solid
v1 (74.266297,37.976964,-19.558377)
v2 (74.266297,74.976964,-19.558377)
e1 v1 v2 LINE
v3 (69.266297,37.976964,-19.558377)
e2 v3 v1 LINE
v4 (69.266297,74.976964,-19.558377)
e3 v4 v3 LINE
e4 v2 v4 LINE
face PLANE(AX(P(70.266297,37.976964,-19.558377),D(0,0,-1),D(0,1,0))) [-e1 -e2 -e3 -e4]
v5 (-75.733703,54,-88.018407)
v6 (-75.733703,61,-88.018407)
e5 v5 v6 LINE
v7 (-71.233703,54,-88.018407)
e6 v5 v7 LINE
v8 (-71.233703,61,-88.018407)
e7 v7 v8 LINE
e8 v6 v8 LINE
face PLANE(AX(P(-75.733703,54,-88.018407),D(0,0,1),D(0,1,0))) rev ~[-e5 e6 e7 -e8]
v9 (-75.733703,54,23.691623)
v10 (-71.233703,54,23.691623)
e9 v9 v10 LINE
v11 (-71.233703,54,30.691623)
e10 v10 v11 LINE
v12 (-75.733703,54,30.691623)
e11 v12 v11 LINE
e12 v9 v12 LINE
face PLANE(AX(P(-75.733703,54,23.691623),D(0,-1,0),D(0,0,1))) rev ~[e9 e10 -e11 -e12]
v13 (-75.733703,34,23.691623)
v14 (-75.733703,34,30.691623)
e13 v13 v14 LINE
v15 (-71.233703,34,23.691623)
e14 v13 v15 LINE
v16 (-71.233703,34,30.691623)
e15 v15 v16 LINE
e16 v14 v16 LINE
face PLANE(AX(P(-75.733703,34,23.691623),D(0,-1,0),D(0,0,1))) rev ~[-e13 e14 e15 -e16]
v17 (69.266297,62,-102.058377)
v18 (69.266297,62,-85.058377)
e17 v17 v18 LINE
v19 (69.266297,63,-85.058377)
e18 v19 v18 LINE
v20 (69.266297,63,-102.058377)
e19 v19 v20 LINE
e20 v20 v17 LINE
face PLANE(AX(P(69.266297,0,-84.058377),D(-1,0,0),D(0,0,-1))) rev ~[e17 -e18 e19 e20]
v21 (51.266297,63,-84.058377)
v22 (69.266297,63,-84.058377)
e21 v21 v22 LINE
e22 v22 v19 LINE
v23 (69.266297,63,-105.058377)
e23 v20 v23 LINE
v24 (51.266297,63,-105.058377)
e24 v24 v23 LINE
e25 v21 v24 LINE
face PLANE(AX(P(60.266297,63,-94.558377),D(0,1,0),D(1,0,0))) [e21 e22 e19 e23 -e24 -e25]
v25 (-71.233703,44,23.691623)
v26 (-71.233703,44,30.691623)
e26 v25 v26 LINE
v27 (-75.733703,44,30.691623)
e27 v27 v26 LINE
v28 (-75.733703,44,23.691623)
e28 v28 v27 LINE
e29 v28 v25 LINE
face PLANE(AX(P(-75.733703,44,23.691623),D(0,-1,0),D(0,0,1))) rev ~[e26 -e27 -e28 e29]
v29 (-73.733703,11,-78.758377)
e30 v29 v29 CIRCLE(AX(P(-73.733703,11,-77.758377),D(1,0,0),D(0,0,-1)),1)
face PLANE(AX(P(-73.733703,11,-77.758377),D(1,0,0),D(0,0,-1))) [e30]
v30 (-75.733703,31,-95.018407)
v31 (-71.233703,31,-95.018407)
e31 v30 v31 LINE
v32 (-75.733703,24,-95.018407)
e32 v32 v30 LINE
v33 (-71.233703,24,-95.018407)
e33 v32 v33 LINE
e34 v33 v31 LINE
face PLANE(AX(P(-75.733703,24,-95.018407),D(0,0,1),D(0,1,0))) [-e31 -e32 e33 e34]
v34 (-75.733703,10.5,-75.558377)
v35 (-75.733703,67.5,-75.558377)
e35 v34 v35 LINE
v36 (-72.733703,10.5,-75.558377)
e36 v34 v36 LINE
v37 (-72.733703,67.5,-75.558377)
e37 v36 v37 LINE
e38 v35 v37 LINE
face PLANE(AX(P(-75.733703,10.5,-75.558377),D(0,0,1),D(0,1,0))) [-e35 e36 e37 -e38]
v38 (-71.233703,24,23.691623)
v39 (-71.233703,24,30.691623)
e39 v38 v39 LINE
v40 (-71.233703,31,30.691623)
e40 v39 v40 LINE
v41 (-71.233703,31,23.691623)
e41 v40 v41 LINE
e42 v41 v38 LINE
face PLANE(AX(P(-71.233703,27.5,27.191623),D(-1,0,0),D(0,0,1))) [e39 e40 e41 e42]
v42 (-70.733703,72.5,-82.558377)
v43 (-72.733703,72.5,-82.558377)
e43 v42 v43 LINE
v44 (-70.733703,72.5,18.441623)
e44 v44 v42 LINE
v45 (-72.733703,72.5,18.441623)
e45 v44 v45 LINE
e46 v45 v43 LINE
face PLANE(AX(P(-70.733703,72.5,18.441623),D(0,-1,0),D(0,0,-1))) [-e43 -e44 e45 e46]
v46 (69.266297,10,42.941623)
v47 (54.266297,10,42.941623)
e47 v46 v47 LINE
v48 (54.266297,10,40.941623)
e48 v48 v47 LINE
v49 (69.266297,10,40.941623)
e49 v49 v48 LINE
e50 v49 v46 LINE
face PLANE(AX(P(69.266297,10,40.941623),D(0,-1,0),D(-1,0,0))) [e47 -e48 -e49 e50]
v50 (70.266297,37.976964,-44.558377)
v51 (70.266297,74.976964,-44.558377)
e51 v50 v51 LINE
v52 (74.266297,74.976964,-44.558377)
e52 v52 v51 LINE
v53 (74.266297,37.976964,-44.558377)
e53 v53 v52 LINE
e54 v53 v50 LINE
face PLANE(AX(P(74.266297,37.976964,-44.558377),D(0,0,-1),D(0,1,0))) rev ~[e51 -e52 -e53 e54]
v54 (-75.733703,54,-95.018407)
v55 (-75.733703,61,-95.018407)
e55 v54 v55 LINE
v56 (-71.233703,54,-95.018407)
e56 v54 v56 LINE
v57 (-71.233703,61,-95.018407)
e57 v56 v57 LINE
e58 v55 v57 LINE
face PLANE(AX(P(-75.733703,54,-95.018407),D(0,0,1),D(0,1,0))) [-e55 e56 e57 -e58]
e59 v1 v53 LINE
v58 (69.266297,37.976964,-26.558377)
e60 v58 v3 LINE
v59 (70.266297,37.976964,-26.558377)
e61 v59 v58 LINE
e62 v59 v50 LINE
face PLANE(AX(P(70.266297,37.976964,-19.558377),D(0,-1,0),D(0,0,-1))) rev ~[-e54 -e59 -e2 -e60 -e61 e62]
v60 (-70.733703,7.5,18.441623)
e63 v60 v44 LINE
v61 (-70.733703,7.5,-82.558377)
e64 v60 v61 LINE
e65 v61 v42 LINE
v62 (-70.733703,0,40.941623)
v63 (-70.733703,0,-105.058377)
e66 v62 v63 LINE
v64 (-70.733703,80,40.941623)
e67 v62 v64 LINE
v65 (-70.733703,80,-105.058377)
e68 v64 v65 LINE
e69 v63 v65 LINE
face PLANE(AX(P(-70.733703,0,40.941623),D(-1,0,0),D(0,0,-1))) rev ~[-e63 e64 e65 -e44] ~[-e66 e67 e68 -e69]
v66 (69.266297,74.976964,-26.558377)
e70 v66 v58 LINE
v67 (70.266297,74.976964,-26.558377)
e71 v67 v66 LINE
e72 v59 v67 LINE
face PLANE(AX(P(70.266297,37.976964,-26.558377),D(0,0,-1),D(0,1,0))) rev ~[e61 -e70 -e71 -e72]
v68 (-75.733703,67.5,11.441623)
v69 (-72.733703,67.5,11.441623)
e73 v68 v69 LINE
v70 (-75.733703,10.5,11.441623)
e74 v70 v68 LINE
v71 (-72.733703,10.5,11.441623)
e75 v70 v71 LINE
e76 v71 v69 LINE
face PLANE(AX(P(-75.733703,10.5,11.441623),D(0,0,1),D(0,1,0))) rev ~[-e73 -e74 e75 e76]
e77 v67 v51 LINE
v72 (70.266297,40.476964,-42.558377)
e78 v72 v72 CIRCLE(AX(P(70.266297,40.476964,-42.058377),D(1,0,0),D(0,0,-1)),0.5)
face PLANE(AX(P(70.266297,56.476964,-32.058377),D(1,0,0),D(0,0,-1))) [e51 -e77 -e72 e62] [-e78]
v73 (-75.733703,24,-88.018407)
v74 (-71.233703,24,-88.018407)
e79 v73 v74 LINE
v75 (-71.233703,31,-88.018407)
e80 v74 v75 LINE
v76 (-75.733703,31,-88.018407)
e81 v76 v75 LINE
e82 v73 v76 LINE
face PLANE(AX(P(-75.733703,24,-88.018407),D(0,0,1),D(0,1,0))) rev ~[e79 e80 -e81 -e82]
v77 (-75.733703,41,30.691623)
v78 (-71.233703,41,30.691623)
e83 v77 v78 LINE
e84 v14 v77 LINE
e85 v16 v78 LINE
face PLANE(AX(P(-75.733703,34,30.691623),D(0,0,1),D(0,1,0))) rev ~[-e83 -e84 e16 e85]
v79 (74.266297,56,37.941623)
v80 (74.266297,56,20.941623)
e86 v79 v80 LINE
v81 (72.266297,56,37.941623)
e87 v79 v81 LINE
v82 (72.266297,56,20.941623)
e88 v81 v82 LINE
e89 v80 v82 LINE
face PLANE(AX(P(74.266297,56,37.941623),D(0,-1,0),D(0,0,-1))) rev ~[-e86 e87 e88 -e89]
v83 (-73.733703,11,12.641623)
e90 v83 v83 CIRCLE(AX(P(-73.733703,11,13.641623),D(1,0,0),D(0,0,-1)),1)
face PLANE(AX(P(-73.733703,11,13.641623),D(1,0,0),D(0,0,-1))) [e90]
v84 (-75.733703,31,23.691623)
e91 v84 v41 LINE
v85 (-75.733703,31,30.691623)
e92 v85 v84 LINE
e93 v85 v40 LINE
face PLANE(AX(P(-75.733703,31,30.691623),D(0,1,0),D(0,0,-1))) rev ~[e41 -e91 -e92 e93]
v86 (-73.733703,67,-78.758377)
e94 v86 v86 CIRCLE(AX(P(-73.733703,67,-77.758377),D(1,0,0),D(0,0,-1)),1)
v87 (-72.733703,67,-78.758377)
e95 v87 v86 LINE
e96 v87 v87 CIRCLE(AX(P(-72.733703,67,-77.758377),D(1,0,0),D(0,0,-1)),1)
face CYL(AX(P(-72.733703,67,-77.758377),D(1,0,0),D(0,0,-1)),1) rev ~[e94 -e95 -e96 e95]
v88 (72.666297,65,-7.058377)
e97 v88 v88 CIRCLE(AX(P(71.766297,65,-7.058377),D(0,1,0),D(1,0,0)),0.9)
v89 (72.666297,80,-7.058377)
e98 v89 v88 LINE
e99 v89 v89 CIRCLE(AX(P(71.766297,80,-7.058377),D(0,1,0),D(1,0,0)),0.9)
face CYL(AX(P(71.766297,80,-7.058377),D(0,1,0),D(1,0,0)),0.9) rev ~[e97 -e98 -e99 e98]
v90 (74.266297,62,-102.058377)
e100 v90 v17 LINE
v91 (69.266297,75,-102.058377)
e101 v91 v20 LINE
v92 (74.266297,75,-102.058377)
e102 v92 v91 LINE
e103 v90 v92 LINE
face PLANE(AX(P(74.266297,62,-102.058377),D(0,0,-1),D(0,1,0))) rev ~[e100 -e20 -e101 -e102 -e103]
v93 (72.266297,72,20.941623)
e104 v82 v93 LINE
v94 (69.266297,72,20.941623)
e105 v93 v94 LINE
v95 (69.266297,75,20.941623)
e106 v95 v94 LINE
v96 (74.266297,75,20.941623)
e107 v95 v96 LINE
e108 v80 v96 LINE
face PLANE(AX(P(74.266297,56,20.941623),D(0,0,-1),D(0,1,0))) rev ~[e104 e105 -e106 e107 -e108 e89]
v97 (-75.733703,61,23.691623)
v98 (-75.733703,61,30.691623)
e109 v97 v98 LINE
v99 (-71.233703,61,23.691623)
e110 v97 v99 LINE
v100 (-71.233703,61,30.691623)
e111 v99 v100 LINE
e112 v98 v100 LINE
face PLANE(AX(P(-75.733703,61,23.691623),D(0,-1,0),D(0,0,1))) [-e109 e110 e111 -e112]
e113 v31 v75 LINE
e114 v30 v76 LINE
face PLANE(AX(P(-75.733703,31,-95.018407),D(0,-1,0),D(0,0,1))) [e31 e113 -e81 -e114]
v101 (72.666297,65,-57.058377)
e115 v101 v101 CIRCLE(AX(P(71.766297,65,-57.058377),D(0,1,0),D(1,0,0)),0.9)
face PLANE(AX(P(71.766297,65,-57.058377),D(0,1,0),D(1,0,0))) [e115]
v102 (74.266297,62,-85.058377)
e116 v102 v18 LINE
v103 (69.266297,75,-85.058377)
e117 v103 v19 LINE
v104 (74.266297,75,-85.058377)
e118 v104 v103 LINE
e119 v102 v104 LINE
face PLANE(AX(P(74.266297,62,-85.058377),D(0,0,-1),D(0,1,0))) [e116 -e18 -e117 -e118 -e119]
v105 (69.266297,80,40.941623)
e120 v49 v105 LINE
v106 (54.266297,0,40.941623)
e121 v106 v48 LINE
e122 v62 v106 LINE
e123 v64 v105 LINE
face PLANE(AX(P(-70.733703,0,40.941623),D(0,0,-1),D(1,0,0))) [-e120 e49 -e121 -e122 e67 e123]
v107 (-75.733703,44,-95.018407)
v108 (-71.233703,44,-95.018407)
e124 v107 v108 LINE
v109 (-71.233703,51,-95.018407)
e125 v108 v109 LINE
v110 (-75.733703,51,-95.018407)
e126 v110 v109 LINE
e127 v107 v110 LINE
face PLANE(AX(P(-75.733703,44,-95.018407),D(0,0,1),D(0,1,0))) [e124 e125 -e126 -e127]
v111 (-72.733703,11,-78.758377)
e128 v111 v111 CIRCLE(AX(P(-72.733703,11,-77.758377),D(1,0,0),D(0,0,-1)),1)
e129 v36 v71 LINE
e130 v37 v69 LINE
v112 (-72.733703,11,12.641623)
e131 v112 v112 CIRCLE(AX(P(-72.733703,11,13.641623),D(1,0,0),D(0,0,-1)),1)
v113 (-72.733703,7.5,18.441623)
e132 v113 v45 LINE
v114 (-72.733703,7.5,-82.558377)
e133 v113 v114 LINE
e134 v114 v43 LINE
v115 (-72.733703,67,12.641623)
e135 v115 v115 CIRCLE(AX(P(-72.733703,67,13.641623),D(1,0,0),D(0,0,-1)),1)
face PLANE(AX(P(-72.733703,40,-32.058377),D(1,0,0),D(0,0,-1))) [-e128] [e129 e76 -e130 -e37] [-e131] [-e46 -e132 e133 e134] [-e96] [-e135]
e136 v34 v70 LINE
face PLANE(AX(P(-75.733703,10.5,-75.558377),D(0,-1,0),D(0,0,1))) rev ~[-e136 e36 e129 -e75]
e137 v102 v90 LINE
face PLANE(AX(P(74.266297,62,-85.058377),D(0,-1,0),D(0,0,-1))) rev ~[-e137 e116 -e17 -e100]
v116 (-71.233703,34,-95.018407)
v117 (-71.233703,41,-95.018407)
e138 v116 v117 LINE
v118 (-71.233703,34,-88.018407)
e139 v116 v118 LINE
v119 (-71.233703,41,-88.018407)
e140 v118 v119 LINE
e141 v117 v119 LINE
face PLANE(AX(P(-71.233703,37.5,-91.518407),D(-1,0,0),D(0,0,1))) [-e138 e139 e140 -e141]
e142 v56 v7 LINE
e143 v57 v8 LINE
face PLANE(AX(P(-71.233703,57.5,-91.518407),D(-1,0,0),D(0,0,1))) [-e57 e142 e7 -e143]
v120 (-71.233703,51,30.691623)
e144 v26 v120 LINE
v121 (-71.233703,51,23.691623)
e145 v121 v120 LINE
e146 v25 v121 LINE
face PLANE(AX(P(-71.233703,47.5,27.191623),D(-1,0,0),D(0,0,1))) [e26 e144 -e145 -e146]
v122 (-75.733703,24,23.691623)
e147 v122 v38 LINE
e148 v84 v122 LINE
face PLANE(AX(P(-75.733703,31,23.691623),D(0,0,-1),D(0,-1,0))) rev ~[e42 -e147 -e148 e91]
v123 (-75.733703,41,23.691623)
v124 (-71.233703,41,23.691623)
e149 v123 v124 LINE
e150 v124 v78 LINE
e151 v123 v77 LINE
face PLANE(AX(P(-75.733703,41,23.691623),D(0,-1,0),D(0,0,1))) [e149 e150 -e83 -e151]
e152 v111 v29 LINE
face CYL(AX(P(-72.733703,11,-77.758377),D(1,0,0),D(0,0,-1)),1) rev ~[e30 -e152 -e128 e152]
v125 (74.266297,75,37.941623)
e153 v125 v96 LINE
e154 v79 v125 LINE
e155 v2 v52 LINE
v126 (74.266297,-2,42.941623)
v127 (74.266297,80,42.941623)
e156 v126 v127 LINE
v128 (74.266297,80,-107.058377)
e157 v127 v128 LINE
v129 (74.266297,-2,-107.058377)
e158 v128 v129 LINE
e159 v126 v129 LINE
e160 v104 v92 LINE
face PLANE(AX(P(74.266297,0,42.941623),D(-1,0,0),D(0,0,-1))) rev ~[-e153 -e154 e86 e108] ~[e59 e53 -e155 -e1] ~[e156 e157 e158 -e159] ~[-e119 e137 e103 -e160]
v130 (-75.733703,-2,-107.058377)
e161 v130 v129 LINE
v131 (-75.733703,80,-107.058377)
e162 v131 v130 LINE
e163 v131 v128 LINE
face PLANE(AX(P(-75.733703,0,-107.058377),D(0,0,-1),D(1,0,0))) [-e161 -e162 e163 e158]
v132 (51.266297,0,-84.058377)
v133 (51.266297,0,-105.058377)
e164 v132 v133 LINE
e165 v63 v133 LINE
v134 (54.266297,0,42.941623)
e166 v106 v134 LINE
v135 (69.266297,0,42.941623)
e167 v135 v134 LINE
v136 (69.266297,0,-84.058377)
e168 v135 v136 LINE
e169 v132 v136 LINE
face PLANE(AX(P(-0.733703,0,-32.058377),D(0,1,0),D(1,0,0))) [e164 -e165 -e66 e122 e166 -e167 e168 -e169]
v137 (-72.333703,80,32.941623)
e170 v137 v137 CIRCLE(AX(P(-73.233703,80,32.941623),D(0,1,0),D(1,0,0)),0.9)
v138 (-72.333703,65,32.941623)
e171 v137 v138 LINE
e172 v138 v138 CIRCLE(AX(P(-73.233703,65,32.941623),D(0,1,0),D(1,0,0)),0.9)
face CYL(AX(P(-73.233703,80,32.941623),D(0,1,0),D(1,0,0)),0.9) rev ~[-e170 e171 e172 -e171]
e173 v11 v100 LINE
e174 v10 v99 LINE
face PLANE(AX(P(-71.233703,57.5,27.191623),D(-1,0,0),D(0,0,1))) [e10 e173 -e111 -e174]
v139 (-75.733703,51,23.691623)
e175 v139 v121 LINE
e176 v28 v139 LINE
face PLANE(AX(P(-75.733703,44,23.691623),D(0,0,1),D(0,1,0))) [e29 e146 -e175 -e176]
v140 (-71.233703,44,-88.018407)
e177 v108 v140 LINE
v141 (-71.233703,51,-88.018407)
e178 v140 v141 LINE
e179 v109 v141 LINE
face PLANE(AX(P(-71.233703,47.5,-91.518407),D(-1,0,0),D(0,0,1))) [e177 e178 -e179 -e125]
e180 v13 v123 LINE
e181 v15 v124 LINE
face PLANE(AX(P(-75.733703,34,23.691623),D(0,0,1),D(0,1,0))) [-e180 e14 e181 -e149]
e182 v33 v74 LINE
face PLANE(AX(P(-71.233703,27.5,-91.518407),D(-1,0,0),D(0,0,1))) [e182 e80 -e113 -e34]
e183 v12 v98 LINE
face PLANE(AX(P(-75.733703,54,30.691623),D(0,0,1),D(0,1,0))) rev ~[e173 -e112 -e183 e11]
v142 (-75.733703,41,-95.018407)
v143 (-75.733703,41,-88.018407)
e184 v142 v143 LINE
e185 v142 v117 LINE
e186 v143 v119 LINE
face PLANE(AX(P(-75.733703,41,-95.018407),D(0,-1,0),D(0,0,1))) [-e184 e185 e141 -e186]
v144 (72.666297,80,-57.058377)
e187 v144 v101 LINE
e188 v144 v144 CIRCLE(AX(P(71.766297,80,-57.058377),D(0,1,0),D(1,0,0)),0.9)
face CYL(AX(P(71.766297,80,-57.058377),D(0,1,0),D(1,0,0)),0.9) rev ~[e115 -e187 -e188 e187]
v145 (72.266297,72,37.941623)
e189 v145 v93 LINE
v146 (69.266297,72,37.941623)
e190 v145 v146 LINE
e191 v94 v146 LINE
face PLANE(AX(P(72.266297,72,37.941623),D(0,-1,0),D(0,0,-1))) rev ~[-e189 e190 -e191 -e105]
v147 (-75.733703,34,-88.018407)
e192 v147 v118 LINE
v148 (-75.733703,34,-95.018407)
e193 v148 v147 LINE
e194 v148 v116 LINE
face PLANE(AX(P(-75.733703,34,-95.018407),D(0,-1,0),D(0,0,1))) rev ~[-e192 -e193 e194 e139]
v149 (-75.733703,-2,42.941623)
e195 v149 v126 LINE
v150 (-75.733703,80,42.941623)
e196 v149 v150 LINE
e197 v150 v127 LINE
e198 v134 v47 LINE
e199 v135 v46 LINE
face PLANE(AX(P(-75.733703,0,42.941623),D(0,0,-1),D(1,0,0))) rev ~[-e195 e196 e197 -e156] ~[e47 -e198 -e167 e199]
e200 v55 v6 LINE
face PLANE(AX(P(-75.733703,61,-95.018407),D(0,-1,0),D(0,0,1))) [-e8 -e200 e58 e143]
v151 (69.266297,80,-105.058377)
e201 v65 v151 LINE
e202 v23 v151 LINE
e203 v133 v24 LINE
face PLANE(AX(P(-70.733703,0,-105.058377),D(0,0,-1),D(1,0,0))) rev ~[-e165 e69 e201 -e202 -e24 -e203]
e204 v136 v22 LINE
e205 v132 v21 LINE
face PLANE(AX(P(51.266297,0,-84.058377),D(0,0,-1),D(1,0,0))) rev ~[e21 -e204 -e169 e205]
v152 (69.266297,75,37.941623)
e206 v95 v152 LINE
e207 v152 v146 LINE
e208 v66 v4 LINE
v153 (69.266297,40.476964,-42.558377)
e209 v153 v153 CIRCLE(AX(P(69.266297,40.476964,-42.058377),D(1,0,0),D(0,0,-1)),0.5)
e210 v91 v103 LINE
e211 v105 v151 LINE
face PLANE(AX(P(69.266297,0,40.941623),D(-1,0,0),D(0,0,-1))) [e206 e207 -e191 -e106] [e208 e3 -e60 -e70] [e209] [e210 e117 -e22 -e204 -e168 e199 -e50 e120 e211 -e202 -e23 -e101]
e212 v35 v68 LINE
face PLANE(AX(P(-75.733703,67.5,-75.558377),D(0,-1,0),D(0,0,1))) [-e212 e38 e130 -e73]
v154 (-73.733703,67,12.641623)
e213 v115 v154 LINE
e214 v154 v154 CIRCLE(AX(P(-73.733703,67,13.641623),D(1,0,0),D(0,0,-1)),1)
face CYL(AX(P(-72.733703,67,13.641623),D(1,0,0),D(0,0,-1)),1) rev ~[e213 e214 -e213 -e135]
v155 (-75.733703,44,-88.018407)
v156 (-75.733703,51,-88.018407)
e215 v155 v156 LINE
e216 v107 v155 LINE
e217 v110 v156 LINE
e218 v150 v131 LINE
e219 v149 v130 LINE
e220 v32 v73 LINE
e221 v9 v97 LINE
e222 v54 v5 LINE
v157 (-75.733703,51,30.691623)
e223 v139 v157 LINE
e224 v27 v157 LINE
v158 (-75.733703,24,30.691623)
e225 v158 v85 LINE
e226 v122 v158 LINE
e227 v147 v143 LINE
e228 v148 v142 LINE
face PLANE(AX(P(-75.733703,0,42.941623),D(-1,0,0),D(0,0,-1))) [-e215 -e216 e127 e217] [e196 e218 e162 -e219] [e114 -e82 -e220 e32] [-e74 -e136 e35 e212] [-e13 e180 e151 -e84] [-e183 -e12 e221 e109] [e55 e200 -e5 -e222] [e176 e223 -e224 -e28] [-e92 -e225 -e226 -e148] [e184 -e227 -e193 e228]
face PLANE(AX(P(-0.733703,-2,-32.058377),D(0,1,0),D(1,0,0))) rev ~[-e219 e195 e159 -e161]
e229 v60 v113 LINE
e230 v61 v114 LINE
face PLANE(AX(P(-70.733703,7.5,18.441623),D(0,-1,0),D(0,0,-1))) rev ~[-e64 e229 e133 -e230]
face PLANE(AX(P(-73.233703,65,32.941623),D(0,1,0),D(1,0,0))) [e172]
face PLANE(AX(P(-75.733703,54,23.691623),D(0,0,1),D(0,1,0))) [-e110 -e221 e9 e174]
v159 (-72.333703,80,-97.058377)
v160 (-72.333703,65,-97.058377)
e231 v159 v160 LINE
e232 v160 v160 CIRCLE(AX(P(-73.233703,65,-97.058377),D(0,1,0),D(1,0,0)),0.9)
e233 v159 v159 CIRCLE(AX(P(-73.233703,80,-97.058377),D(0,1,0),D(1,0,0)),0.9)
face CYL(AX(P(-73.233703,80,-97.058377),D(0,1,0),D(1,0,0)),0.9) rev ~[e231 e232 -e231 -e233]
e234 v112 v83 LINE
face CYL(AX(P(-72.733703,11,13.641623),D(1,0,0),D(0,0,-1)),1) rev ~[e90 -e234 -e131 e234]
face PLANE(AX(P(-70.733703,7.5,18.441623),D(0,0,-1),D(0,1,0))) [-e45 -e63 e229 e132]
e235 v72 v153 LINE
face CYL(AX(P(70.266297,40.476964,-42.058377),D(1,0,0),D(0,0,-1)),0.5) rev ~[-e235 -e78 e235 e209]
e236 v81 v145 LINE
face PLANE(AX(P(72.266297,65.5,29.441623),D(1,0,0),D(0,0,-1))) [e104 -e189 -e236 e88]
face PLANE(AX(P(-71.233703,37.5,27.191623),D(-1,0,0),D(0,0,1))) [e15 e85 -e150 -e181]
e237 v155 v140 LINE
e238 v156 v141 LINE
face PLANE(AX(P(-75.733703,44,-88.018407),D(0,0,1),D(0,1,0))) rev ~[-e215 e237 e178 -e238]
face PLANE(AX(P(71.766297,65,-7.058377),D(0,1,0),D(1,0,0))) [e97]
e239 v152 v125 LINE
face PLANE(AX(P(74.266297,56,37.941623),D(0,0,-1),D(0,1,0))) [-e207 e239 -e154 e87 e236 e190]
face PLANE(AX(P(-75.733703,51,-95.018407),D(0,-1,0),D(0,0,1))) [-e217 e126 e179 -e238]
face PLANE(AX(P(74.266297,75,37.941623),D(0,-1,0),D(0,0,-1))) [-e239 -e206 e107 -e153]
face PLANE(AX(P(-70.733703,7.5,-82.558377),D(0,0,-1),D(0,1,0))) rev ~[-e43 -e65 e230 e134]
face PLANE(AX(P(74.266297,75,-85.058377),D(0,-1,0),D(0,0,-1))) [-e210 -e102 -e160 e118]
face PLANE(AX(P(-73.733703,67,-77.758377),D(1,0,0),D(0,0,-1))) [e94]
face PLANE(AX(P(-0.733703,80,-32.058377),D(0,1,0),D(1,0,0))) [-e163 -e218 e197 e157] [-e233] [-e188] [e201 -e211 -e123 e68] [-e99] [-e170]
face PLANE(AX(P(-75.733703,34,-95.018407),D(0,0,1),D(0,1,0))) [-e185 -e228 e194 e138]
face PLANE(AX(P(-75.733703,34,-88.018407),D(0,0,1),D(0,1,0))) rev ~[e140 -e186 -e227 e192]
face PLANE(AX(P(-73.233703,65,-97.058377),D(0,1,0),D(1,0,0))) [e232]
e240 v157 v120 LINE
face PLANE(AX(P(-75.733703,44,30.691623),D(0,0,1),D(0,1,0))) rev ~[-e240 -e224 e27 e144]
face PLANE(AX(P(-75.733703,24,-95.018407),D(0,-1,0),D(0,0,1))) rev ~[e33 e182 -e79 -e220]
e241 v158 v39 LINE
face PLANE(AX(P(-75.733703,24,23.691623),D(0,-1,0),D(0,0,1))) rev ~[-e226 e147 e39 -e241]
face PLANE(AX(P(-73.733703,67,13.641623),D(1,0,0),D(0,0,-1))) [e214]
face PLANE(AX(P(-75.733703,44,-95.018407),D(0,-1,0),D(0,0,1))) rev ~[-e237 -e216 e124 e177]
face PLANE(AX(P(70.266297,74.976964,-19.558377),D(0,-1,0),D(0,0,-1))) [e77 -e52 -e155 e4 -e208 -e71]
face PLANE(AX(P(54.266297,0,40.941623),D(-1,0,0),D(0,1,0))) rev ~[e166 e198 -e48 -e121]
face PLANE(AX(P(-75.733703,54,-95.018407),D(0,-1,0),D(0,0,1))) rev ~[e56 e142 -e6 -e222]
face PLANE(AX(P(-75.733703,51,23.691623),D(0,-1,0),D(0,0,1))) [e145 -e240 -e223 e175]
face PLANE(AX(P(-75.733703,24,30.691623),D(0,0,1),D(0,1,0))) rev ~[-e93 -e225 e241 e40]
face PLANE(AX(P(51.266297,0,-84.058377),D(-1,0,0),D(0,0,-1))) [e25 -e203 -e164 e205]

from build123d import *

# Parameters (mm, degrees)
SKIZZE1_W                        = 150
SKIZZE1_H                        = 150
AUFSATZ_LINEAR_AUSTRAGEN1_DEPTH  = 2
SKIZZE1_3_W                      = 150
SKIZZE1_3_H                      = 150
SKIZZE1_3_W_2                    = 140
SKIZZE1_3_H_2                    = 146
AUFSATZ_LINEAR_AUSTRAGEN2_DEPTH  = 80
SKIZZE2_W                        = 87
SKIZZE2_H                        = 57
SCHNITT_LINEAR_AUSTRAGEN1_DEPTH  = 10
SKIZZE5_W                        = 17
SKIZZE5_H                        = 13
SCHNITT_LINEAR_AUSTRAGEN3_DEPTH  = 10
SKIZZE6_W                        = 17
SKIZZE6_H                        = 19
SCHNITT_LINEAR_AUSTRAGEN4_DEPTH  = 2
SKIZZE7_W                        = 17
SKIZZE7_H                        = 3
SCHNITT_LINEAR_AUSTRAGEN5_DEPTH  = 10
SKIZZE9_W                        = 18
SKIZZE9_H                        = 21
AUFSATZ_LINEAR_AUSTRAGEN3_DEPTH  = 63
SKIZZE10_W                       = 15
SKIZZE10_H                       = 10
SCHNITT_LINEAR_AUSTRAGEN6_DEPTH  = 63
SKIZZE11_W                       = 101
SKIZZE11_H                       = 65
SCHNITT_LINEAR_AUSTRAGEN7_DEPTH  = 2
SKIZZE17_R                       = 1
SCHNITT_LINEAR_AUSTRAGEN10_DEPTH = 1
SKIZZE18_W                       = 7
SKIZZE18_H                       = 7
SCHNITT_LINEAR_AUSTRAGEN11_DEPTH = 4.5
SKIZZE19_R                       = 0.9
SCHNITT_LINEAR_AUSTRAGEN12_DEPTH = 15
SKIZZE20_W                       = 25
SKIZZE20_H                       = 37
SCHNITT_LINEAR_AUSTRAGEN13_DEPTH = 4
SKIZZE21_W                       = 7
SKIZZE21_H                       = 37
SCHNITT_LINEAR_AUSTRAGEN14_DEPTH = 3
SKIZZE24_R                       = 0.5
SCHNITT_LINEAR_AUSTRAGEN15_DEPTH = 6


with BuildPart() as part:
    # Skizze1 → Aufsatz-Linear austragen1 (new body)
    with BuildSketch(Plane(origin=(0, 0, 0), x_dir=(1, 0, 0), z_dir=(0, 1, 0))):
        with Locations((-0.733702775, 32.058376742)):
            Rectangle(SKIZZE1_W, SKIZZE1_H)
    extrude(amount=-AUFSATZ_LINEAR_AUSTRAGEN1_DEPTH)

    # Skizze1<3> → Aufsatz-Linear austragen2 (add)
    with BuildSketch(Plane(origin=(0, 0, 0), x_dir=(1, 0, 0), z_dir=(0, 1, 0))):
        with Locations((-0.733702775, 32.058376742)):
            Rectangle(SKIZZE1_3_W, SKIZZE1_3_H)
        with Locations((-0.733702775, 32.058376742)):
            Rectangle(SKIZZE1_3_W_2, SKIZZE1_3_H_2, mode=Mode.SUBTRACT)
    extrude(amount=AUFSATZ_LINEAR_AUSTRAGEN2_DEPTH)

    # Skizze2 → Schnitt-Linear austragen1 (cut)
    with BuildSketch(Plane.ZY.offset(75.733702775)):
        with Locations((-32.058376742, 39)):
            Rectangle(SKIZZE2_W, SKIZZE2_H)
    extrude(amount=-SCHNITT_LINEAR_AUSTRAGEN1_DEPTH, mode=Mode.SUBTRACT)

    # Skizze5 → Schnitt-Linear austragen3 (cut)
    with BuildSketch(Plane(origin=(74.266297225, 0, 0), x_dir=(0, 0, -1), z_dir=(1, 0, 0))):
        with Locations((93.558376742, 68.5)):
            Rectangle(SKIZZE5_W, SKIZZE5_H)
    extrude(amount=-SCHNITT_LINEAR_AUSTRAGEN3_DEPTH, mode=Mode.SUBTRACT)

    # Skizze6 → Schnitt-Linear austragen4 (cut)
    with BuildSketch(Plane(origin=(74.266297225, 0, 0), x_dir=(0, 0, -1), z_dir=(1, 0, 0))):
        with Locations((-29.441623258, 65.5)):
            Rectangle(SKIZZE6_W, SKIZZE6_H)
    extrude(amount=-SCHNITT_LINEAR_AUSTRAGEN4_DEPTH, mode=Mode.SUBTRACT)

    # Skizze7 → Schnitt-Linear austragen5 (cut)
    with BuildSketch(Plane(origin=(72.266297225, 0, 0), x_dir=(0, 0, -1), z_dir=(1, 0, 0))):
        with Locations((-29.441623258, 73.5)):
            Rectangle(SKIZZE7_W, SKIZZE7_H)
    extrude(amount=-SCHNITT_LINEAR_AUSTRAGEN5_DEPTH, mode=Mode.SUBTRACT)

    # Skizze9 → Aufsatz-Linear austragen3 (add)
    with BuildSketch(Plane(origin=(0, 0, 0), x_dir=(1, 0, 0), z_dir=(0, 1, 0))):
        with Locations((60.266297225, 94.558376742)):
            Rectangle(SKIZZE9_W, SKIZZE9_H)
    extrude(amount=AUFSATZ_LINEAR_AUSTRAGEN3_DEPTH)

    # Skizze10 → Schnitt-Linear austragen6 (cut)
    with BuildSketch(Plane(origin=(0, 0, 40.941623258), x_dir=(-1, 0, 0), z_dir=(0, 0, -1))):
        with Locations((-61.766297225, 5)):
            Rectangle(SKIZZE10_W, SKIZZE10_H)
    extrude(amount=-SCHNITT_LINEAR_AUSTRAGEN6_DEPTH, mode=Mode.SUBTRACT)

    # Skizze11 → Schnitt-Linear austragen7 (cut)
    with BuildSketch(Plane(origin=(-70.733702775, 0, 0), x_dir=(0, 0, -1), z_dir=(1, 0, 0))):
        with Locations((32.058376742, 40)):
            Rectangle(SKIZZE11_W, SKIZZE11_H)
    extrude(amount=-SCHNITT_LINEAR_AUSTRAGEN7_DEPTH, mode=Mode.SUBTRACT)

    # Skizze17 → Schnitt-Linear austragen10 (cut)
    with BuildSketch(Plane(origin=(-72.733702775, 0, 0), x_dir=(0, 0, -1), z_dir=(1, 0, 0))):
        with Locations((77.758376742, 67)):
            Circle(SKIZZE17_R)
        with Locations((77.758376742, 11)):
            Circle(SKIZZE17_R)
        with Locations((-13.641623258, 11)):
            Circle(SKIZZE17_R)
        with Locations((-13.641623258, 67)):
            Circle(SKIZZE17_R)
    extrude(amount=-SCHNITT_LINEAR_AUSTRAGEN10_DEPTH, mode=Mode.SUBTRACT)

    # Skizze18 → Schnitt-Linear austragen11 (cut)
    with BuildSketch(Plane.ZY.offset(75.733702775)):
        with Locations((27.191623258, 57.5)):
            Rectangle(SKIZZE18_W, SKIZZE18_H)
        Polygon((30.691623258, 31), (27.191623258, 31), (23.691623258, 31), (23.691623258, 24), (30.691623258, 24), align=None)
        with Locations((27.191623258, 37.5)):
            Rectangle(SKIZZE18_W, SKIZZE18_H)
        with Locations((27.191623258, 47.5)):
            Rectangle(SKIZZE18_W, SKIZZE18_H)
        with Locations((-91.518407477, 57.5)):
            Rectangle(SKIZZE18_W, SKIZZE18_H)
        with Locations((-91.518407477, 47.5)):
            Rectangle(SKIZZE18_W, SKIZZE18_H)
        with Locations((-91.518407477, 37.5)):
            Rectangle(SKIZZE18_W, SKIZZE18_H)
        with Locations((-91.518407477, 27.5)):
            Rectangle(SKIZZE18_W, SKIZZE18_H)
    extrude(amount=-SCHNITT_LINEAR_AUSTRAGEN11_DEPTH, mode=Mode.SUBTRACT)

    # Skizze19 → Schnitt-Linear austragen12 (cut)
    with BuildSketch(Plane(origin=(0, 80, 0), x_dir=(1, 0, 0), z_dir=(0, 1, 0))):
        with Locations((-73.233702775, -32.941623258)):
            Circle(SKIZZE19_R)
        with Locations((-73.233702775, 97.058376742)):
            Circle(SKIZZE19_R)
        with Locations((71.766297225, 7.058376742)):
            Circle(SKIZZE19_R)
        with Locations((71.766297225, 57.058376742)):
            Circle(SKIZZE19_R)
    extrude(amount=-SCHNITT_LINEAR_AUSTRAGEN12_DEPTH, mode=Mode.SUBTRACT)

    # Skizze20 → Schnitt-Linear austragen13 (cut)
    with BuildSketch(Plane(origin=(74.266297225, 0, 0), x_dir=(0, 0, -1), z_dir=(1, 0, 0))):
        with Locations((32.058376742, 56.476963809)):
            Rectangle(SKIZZE20_W, SKIZZE20_H)
    extrude(amount=-SCHNITT_LINEAR_AUSTRAGEN13_DEPTH, mode=Mode.SUBTRACT)

    # Skizze21 → Schnitt-Linear austragen14 (cut)
    with BuildSketch(Plane(origin=(70.266297225, 0, 0), x_dir=(0, 0, -1), z_dir=(1, 0, 0))):
        with Locations((23.058376742, 56.476963809)):
            Rectangle(SKIZZE21_W, SKIZZE21_H)
    extrude(amount=-SCHNITT_LINEAR_AUSTRAGEN14_DEPTH, mode=Mode.SUBTRACT)

    # Skizze24 → Schnitt-Linear austragen15 (cut)
    with BuildSketch(Plane(origin=(70.266297225, 0, 0), x_dir=(0, 0, -1), z_dir=(1, 0, 0))):
        with Locations((42.058376742, 40.476963809)):
            Circle(SKIZZE24_R)
    extrude(amount=-SCHNITT_LINEAR_AUSTRAGEN15_DEPTH, mode=Mode.SUBTRACT)


solid = part.part
